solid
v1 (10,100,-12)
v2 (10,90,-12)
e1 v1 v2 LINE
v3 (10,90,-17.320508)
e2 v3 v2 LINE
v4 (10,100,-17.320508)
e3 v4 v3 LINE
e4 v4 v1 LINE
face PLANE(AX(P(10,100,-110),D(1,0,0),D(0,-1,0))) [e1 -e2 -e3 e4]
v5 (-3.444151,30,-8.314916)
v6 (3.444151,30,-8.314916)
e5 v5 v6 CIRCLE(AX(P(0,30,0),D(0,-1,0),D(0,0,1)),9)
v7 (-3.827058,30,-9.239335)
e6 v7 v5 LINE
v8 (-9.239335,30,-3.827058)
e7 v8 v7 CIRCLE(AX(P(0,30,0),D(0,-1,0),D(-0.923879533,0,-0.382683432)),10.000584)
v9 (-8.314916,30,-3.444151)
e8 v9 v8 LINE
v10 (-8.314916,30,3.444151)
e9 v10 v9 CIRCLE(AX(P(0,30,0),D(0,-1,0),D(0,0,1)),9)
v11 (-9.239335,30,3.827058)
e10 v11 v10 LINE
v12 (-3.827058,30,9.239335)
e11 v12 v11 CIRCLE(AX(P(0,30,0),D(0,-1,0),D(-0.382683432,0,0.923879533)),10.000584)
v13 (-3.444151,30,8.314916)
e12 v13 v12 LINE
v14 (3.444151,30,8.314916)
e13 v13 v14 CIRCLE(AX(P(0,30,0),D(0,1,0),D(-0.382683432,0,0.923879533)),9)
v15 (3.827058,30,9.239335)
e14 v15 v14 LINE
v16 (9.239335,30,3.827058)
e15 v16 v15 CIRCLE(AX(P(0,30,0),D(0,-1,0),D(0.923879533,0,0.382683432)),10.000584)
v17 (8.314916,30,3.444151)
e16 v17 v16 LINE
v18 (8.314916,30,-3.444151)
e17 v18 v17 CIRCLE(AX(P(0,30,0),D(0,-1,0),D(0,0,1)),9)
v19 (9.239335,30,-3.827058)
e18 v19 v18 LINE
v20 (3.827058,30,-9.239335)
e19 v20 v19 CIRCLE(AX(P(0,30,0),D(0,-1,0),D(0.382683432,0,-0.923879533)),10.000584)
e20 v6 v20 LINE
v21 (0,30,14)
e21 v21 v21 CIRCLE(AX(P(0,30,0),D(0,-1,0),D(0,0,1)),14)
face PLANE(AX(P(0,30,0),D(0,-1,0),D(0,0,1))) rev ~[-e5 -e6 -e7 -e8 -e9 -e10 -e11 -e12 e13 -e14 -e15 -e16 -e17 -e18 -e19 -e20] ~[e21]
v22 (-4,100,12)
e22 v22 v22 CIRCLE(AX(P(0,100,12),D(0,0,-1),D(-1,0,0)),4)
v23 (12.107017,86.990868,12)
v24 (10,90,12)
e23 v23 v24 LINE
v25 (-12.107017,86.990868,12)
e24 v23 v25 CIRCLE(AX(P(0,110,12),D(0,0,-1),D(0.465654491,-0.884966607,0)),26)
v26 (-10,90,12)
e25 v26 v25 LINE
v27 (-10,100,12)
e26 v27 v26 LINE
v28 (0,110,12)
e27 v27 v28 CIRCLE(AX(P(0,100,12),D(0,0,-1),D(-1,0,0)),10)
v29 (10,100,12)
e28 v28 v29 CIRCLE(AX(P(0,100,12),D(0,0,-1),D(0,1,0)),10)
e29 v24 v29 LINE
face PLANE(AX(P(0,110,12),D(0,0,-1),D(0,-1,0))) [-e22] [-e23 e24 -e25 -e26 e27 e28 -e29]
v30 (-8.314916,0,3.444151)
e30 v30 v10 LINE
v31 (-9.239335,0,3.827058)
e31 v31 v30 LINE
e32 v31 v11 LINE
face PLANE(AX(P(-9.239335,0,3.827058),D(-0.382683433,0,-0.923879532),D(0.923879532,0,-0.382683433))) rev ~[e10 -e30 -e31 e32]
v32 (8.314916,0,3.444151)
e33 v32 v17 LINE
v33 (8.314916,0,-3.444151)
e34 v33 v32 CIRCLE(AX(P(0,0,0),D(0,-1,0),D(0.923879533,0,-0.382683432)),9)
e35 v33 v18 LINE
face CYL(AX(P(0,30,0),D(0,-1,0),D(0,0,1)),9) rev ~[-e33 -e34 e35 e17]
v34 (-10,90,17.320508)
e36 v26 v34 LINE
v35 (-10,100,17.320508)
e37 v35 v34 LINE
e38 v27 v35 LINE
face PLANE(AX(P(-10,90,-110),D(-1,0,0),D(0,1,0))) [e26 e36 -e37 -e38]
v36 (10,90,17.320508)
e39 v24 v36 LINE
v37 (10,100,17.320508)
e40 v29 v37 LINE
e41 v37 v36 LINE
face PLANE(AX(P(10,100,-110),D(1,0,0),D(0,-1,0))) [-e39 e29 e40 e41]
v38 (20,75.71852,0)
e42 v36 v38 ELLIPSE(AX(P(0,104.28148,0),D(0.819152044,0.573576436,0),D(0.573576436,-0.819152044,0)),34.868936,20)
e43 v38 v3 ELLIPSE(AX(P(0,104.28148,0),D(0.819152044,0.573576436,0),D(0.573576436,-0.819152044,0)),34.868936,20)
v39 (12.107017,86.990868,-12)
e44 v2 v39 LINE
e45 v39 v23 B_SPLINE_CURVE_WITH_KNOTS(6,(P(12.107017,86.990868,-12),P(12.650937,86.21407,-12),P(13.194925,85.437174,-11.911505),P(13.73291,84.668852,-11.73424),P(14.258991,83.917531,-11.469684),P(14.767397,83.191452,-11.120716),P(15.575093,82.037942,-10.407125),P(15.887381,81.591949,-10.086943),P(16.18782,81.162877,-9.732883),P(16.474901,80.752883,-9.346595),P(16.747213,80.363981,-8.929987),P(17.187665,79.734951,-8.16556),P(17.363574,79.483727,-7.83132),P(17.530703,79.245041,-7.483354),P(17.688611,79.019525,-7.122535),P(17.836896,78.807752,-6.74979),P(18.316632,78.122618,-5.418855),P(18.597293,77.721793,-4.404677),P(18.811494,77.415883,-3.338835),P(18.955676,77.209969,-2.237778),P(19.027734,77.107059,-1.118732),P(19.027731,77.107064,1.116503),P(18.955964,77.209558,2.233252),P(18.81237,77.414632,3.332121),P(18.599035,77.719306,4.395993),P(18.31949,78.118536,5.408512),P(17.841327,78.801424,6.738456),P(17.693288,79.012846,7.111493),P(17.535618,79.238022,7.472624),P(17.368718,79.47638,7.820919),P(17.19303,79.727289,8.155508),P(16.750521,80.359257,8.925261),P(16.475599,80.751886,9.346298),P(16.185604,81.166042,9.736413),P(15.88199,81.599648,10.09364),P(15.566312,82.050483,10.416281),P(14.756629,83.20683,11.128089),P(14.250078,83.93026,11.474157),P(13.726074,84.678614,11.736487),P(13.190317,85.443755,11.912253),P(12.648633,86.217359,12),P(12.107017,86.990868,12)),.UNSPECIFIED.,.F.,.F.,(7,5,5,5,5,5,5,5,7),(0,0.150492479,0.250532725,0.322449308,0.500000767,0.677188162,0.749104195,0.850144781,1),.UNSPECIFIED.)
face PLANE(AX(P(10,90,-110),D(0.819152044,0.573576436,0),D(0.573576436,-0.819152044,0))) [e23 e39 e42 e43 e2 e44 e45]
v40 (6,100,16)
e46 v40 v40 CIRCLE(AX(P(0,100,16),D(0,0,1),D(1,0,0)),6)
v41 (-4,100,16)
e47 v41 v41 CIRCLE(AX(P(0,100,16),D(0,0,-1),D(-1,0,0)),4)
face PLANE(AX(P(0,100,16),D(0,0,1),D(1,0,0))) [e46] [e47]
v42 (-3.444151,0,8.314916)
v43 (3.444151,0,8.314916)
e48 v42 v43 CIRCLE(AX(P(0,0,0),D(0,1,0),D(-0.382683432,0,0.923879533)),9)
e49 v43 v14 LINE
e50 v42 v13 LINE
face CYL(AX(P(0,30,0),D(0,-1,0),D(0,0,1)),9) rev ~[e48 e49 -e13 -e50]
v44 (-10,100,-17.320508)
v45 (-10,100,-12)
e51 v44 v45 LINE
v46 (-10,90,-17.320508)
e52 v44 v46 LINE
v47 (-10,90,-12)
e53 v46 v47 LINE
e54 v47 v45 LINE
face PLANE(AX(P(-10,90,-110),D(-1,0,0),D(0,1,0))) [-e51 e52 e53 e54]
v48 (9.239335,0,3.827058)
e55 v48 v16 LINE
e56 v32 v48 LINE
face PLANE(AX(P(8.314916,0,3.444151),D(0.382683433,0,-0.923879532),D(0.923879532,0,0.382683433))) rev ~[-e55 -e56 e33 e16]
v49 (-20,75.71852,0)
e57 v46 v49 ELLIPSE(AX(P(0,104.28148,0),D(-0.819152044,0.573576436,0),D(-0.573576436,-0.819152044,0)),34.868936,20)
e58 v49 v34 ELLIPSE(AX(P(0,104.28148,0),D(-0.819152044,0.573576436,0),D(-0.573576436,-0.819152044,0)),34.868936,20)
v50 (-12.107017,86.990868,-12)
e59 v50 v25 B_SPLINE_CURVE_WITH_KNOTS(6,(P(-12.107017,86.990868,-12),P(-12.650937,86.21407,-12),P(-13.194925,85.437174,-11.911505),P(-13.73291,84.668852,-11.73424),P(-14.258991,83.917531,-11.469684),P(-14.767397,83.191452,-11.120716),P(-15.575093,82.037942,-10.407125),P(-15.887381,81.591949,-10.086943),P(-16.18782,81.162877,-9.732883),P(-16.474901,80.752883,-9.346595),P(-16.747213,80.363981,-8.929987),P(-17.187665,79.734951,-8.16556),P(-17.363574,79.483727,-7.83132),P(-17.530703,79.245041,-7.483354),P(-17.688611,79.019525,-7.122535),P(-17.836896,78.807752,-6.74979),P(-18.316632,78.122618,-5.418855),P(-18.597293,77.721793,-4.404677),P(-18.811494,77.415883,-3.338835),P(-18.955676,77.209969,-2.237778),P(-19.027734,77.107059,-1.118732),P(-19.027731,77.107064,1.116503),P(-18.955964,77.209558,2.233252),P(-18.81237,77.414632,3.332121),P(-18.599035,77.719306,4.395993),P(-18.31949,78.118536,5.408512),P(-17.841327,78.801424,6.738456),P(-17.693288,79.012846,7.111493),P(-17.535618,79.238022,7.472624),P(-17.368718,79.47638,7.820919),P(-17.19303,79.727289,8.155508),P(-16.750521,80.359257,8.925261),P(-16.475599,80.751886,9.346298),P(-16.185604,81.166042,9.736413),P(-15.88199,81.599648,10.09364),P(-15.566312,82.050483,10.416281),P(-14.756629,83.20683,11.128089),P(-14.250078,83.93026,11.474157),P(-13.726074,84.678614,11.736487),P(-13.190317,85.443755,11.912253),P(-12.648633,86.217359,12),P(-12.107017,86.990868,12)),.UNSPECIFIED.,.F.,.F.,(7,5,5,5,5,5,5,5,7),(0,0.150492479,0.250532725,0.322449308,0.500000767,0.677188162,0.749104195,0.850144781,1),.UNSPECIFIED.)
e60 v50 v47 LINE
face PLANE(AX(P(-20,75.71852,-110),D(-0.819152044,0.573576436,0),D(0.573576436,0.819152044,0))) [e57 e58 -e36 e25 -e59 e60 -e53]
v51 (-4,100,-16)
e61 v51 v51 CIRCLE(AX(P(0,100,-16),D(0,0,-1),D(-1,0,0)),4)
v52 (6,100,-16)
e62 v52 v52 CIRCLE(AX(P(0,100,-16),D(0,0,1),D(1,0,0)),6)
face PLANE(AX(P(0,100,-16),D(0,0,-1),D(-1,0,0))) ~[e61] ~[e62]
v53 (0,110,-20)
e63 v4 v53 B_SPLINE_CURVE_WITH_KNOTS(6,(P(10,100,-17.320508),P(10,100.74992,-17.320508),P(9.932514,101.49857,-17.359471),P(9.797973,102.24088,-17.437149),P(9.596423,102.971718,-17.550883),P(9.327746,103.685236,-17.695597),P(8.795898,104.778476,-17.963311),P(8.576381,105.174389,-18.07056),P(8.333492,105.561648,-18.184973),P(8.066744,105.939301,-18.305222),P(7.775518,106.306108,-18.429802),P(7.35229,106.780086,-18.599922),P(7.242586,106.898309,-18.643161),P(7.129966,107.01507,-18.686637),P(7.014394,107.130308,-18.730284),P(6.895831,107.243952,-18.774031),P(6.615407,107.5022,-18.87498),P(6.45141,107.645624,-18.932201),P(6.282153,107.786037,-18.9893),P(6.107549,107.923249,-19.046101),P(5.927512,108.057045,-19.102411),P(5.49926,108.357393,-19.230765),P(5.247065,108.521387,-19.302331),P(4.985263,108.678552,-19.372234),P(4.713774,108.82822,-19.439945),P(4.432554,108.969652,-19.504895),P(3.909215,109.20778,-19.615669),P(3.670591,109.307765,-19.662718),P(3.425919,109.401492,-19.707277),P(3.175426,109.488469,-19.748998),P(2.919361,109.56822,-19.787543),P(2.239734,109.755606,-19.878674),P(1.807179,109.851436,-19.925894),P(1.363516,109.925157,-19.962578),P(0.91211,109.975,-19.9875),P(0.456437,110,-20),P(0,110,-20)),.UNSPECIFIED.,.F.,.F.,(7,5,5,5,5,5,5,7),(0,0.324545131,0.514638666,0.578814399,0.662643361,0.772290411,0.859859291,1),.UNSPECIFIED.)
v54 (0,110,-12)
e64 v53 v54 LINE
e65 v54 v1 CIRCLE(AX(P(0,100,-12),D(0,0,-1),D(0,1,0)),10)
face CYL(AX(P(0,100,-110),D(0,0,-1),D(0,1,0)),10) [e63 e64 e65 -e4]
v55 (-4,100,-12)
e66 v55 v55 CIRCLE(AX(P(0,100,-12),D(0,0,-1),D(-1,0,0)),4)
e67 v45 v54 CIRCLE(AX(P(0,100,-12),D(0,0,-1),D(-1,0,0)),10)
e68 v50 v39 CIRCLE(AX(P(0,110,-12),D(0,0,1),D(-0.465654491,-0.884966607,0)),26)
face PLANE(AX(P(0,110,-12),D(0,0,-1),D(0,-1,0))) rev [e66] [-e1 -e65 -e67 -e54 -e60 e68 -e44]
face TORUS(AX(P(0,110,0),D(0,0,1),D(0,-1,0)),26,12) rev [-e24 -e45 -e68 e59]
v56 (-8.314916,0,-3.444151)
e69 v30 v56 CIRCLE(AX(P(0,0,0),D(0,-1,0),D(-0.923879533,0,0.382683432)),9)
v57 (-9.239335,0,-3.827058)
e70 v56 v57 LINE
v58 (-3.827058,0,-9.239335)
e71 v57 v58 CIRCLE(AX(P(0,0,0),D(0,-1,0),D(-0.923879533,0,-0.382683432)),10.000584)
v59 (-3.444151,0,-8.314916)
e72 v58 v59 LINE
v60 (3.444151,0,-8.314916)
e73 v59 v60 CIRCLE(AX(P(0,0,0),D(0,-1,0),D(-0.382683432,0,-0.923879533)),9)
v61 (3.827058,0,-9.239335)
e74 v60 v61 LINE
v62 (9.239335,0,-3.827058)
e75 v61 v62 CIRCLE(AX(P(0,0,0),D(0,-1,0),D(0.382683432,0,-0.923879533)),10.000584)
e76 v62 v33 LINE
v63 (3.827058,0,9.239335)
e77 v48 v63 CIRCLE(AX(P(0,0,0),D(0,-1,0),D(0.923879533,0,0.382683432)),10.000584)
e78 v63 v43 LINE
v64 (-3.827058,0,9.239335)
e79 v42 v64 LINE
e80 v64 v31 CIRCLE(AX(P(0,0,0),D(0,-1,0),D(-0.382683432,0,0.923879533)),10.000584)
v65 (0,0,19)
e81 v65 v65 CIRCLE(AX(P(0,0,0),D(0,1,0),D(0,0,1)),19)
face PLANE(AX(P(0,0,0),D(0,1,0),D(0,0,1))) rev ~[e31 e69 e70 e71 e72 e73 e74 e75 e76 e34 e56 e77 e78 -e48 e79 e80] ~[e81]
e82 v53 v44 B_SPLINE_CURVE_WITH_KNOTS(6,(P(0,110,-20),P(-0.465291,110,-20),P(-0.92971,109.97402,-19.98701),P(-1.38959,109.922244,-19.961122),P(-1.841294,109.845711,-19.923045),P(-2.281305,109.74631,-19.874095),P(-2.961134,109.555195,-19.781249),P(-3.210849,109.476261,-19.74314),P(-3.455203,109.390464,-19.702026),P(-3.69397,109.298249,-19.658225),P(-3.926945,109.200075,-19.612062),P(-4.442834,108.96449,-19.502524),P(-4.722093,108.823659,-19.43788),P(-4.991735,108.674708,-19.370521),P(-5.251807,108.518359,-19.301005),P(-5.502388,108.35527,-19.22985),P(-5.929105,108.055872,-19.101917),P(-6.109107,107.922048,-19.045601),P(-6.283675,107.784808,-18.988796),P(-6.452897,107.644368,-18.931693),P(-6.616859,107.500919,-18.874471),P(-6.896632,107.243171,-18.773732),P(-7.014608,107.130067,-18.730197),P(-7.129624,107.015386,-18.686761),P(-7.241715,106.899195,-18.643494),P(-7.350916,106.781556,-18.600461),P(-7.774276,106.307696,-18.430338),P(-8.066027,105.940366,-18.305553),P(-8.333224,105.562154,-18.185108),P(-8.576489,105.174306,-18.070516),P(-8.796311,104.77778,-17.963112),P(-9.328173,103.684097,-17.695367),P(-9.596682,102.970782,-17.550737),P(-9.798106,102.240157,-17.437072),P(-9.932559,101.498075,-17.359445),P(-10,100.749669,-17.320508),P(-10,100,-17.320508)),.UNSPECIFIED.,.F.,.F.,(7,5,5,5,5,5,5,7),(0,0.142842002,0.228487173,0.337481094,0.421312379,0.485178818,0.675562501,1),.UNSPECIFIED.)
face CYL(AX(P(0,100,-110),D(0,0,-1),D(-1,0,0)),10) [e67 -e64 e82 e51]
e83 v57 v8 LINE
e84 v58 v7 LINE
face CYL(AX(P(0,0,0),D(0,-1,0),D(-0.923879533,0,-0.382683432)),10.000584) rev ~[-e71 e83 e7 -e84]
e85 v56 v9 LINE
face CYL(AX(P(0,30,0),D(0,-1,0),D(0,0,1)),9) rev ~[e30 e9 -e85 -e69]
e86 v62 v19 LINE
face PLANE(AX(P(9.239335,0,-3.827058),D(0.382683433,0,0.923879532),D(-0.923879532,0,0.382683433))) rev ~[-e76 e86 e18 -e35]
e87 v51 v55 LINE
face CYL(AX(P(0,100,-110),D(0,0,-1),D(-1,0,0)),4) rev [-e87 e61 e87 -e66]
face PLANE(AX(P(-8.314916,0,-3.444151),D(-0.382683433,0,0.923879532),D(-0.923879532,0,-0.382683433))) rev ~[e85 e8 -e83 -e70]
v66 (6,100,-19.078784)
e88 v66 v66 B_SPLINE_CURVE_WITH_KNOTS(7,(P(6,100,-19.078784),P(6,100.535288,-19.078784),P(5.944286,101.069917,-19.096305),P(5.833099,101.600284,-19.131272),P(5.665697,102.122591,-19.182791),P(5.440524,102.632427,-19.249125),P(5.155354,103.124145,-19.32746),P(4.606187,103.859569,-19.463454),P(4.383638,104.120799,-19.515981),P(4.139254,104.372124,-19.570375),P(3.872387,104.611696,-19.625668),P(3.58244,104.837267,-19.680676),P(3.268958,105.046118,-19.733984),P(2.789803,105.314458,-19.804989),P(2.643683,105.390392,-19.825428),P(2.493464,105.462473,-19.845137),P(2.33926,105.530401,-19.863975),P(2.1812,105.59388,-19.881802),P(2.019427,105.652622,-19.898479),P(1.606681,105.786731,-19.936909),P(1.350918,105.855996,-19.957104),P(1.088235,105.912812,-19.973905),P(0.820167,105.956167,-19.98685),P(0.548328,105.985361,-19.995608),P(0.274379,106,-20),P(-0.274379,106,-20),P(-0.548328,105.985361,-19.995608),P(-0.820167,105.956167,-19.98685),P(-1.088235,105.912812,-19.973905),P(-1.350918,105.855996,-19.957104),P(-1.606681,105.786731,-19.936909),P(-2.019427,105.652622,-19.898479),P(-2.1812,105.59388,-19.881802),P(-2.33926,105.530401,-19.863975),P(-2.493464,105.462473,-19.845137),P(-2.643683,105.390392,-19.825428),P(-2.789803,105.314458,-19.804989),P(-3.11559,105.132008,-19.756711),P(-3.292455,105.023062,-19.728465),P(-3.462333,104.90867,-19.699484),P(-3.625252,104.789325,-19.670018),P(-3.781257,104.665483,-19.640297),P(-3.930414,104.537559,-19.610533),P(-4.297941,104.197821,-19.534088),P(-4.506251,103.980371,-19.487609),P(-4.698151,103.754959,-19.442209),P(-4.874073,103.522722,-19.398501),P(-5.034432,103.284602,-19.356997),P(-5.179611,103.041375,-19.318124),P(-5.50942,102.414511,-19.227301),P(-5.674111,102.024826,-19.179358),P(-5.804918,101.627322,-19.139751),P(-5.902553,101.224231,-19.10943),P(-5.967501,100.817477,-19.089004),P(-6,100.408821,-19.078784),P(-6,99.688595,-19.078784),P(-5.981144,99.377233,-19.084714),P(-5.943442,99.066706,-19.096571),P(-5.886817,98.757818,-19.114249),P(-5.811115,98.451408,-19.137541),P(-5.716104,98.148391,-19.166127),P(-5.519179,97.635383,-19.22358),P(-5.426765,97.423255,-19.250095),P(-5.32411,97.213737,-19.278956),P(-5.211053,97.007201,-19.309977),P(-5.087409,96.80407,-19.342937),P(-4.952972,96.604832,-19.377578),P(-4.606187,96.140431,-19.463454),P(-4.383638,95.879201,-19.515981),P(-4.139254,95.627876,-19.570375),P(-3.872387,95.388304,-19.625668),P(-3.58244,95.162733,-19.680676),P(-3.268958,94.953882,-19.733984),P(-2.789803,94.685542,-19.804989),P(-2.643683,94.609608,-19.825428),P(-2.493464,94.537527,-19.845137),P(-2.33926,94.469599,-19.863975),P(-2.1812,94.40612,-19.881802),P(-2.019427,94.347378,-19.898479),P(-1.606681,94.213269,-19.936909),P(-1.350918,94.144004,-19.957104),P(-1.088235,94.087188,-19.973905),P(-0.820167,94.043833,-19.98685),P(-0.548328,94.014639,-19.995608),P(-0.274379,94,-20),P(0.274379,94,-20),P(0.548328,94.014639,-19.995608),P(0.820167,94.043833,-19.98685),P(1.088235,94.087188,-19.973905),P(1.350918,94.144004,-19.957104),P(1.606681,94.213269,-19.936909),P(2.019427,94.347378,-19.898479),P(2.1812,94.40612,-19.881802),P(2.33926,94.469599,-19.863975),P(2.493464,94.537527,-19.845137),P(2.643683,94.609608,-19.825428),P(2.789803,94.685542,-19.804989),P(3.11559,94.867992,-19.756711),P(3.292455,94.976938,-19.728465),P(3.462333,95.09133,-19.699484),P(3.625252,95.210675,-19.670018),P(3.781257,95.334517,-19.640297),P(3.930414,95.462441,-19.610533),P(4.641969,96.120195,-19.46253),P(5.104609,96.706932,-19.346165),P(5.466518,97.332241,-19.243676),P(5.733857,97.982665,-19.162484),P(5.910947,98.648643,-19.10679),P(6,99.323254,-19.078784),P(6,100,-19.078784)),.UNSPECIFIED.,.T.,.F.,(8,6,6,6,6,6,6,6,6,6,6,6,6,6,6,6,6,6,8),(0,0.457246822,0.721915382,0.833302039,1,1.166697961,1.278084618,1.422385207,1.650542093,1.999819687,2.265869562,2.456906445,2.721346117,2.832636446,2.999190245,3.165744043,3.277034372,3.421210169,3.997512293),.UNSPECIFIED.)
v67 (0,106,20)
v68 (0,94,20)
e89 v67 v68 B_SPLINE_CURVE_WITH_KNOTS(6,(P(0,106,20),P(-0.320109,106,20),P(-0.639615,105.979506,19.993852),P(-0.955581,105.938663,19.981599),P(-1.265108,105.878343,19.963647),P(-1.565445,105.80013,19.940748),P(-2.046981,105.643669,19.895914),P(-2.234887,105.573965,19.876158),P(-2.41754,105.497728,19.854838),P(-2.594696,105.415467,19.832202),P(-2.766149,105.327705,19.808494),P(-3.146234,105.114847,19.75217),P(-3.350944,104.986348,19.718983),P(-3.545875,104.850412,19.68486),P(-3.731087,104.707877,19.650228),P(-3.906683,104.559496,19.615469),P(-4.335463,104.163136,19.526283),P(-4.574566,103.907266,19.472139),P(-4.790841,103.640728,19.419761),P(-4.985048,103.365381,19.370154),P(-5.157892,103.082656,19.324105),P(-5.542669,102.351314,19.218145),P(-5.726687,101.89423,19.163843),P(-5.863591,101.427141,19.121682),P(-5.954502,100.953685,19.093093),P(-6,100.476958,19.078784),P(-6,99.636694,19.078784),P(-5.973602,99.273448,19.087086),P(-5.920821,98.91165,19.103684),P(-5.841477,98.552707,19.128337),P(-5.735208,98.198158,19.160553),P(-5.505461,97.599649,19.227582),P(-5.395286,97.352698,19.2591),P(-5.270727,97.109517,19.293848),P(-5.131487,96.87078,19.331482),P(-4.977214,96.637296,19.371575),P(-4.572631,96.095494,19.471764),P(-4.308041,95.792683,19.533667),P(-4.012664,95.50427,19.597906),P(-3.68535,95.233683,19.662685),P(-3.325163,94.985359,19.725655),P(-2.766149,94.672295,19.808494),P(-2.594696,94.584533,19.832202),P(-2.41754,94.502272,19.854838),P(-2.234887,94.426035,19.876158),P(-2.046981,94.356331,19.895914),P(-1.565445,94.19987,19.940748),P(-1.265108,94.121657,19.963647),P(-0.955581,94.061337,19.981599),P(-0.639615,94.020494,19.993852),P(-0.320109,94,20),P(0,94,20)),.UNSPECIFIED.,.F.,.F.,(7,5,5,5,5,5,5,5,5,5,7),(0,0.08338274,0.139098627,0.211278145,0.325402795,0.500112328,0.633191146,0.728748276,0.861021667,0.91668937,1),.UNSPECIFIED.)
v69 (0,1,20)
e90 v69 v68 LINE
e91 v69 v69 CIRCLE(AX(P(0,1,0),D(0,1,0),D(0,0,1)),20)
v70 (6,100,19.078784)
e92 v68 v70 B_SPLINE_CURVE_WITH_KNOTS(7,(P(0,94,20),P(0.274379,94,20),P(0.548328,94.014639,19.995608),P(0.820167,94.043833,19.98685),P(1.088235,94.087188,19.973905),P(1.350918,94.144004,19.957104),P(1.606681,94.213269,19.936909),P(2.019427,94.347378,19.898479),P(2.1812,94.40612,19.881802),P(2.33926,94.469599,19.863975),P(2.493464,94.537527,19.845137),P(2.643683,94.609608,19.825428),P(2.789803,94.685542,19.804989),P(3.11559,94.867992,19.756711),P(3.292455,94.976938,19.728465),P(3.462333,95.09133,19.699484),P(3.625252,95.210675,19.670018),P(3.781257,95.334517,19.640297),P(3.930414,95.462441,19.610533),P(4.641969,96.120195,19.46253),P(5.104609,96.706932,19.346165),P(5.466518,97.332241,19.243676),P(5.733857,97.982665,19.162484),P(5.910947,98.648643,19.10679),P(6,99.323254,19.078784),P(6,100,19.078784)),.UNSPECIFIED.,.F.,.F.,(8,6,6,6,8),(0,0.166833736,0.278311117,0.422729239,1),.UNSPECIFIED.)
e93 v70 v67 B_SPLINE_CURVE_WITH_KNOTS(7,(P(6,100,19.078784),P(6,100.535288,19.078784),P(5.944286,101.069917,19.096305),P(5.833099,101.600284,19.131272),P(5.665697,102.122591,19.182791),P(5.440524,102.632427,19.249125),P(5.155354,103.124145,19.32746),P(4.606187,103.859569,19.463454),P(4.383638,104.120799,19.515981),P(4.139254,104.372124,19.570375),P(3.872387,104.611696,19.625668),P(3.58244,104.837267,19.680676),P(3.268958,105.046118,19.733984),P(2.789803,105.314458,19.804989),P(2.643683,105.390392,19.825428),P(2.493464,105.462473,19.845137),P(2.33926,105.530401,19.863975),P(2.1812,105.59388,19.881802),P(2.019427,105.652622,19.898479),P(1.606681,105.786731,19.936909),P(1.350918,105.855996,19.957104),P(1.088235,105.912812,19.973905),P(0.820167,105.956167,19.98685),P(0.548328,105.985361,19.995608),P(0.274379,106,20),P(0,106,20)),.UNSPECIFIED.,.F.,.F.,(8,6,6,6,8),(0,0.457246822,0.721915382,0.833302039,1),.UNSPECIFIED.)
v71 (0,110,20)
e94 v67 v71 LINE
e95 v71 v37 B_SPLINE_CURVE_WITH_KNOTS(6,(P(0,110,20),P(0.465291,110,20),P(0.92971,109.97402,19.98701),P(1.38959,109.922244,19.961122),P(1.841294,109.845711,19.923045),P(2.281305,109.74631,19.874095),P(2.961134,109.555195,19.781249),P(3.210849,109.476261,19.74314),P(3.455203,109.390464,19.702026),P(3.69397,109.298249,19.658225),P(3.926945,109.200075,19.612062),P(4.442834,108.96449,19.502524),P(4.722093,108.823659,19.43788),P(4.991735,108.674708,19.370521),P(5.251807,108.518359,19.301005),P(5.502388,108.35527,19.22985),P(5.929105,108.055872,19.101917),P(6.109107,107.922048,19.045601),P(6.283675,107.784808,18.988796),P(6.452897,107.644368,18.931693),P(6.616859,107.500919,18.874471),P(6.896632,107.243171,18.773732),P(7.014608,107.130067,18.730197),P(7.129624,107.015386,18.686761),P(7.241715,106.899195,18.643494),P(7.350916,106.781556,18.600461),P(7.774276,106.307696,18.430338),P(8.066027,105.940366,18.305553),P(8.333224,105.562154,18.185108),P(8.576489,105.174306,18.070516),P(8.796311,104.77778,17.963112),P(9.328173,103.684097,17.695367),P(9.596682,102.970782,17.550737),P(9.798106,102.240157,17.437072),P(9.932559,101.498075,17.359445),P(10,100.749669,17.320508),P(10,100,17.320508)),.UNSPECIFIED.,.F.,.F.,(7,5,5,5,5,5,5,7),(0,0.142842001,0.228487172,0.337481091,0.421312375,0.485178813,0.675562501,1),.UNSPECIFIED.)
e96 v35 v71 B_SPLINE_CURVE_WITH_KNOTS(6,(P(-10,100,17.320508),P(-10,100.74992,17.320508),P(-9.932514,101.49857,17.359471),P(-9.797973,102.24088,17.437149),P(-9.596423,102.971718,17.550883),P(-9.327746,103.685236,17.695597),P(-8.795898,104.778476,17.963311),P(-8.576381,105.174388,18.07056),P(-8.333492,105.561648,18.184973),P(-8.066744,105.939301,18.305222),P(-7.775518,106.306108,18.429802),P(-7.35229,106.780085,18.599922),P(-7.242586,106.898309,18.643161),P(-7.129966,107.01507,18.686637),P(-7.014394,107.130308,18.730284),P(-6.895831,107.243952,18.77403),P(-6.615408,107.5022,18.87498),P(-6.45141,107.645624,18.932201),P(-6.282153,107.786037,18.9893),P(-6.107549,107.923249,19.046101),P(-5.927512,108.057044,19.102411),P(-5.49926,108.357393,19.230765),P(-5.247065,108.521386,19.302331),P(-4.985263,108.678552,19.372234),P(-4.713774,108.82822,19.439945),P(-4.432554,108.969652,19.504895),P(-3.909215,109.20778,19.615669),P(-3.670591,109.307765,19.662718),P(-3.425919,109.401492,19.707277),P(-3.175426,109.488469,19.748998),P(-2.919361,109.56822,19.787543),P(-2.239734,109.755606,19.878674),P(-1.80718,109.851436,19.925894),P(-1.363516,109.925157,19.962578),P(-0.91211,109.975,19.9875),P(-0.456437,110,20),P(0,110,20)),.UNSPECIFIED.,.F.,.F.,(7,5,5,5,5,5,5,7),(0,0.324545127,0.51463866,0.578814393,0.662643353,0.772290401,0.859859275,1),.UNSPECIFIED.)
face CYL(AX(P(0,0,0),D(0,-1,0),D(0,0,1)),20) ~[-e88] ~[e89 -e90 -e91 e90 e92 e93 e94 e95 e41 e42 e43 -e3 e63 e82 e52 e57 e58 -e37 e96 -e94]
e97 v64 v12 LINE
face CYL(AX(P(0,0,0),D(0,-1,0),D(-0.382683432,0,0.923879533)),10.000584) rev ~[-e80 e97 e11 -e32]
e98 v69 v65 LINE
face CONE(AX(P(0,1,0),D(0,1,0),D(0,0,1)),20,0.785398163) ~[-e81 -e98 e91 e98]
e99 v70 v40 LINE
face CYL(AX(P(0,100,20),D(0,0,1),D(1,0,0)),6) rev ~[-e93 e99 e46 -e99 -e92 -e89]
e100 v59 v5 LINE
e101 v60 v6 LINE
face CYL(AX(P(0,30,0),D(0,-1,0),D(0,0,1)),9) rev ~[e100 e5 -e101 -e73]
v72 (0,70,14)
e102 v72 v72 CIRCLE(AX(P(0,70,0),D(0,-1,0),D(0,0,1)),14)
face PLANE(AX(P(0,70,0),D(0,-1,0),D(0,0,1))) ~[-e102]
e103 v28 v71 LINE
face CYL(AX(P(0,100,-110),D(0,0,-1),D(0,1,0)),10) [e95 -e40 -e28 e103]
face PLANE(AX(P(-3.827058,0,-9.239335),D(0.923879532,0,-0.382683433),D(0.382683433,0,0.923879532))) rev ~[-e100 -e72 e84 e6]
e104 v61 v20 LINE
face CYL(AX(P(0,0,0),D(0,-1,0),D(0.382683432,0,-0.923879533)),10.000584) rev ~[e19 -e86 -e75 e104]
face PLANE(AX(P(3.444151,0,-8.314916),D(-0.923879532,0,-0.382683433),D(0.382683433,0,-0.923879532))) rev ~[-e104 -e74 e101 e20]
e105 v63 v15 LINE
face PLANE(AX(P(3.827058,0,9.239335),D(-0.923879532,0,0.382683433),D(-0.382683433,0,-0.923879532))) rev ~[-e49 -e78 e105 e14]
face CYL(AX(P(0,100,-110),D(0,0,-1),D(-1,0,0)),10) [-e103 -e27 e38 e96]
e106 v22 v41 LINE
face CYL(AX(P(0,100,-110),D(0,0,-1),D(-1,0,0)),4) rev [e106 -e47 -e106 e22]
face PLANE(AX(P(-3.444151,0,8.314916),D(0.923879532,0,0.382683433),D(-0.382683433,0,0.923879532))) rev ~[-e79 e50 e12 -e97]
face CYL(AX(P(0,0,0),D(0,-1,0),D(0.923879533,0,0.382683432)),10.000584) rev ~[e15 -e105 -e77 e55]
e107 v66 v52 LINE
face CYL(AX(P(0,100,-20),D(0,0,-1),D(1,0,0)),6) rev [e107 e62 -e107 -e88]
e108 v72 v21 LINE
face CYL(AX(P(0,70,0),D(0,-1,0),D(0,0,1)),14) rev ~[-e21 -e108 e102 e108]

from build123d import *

# Parameters (mm, degrees)
CROQUIS1_R                 = 20
SALIENTE_EXTRUIR1_DEPTH    = 110
CORTAR_EXTRUIR1_DEPTH      = 110
CORTAR_EXTRUIR1_DEPTH_BACK = 110
CORTAR_EXTRUIR2_DEPTH      = 110
CORTAR_EXTRUIR2_DEPTH_BACK = 110
CROQUIS4_R                 = 4
CROQUIS5_R                 = 6
CORTAR_EXTRUIR4_DEPTH      = 4
CORTAR_EXTRUIR5_DEPTH      = 44
CHAFL_N1_SIZE              = 1


with BuildPart() as part:
    # Croquis1 → Saliente-Extruir1 (new body)
    with BuildSketch(Plane(origin=(0, 0, 0), x_dir=(1, 0, 0), z_dir=(0, 1, 0))):
        Circle(CROQUIS1_R)
    extrude(amount=SALIENTE_EXTRUIR1_DEPTH)

    # Croquis2 → Cortar-Extruir1 (cut, two sides: drawn at the far end of the back side and taken through both)
    with BuildSketch(Plane.XY.offset(-CORTAR_EXTRUIR1_DEPTH_BACK)):
        with BuildLine():
            Line((20, 110), (0, 110))
            ThreePointArc((0, 110), (7.071067812, 107.071067812), (10, 100))
            Line((10, 100), (10, 90))
            Line((10, 90), (20, 75.718519933))
            Line((20, 75.718519933), (20, 110))
        make_face()
        with BuildLine():
            Line((-10, 90), (-10, 100))
            ThreePointArc((-10, 100), (-7.071067812, 107.071067812), (0, 110))
            Line((0, 110), (-20, 110))
            Line((-20, 110), (-20, 75.718519933))
            Line((-20, 75.718519933), (-10, 90))
        make_face()
    extrude(amount=CORTAR_EXTRUIR1_DEPTH + CORTAR_EXTRUIR1_DEPTH_BACK, mode=Mode.SUBTRACT)

    # Croquis4 → Cortar-Extruir2 (cut, two sides: drawn at the far end of the back side and taken through both)
    with BuildSketch(Plane.XY.offset(-CORTAR_EXTRUIR2_DEPTH_BACK)):
        with Locations((0, 100)):
            Circle(CROQUIS4_R)
    extrude(amount=CORTAR_EXTRUIR2_DEPTH + CORTAR_EXTRUIR2_DEPTH_BACK, mode=Mode.SUBTRACT)

    # Croquis3 → Cortar-Revolución1 (revolve, cut)
    with BuildSketch(Plane(origin=(0, 0, 0), x_dir=(0, 0, -1), z_dir=(1, 0, 0))):
        with BuildLine():
            Line((-12, 110), (12, 110))
            Line((12, 110), (12, 84))
            ThreePointArc((12, 84), (0, 72), (-12, 84))
            Line((-12, 84), (-12, 110))
        make_face()
    revolve(axis=Axis((0, 110, 12), (0, 0, -1)), mode=Mode.SUBTRACT)

    # Croquis5 → Cortar-Extruir4 (cut)
    with BuildSketch(Plane.XY.offset(20)):
        with Locations((0, 100)):
            Circle(CROQUIS5_R)
    cortar_extruir4 = extrude(amount=-CORTAR_EXTRUIR4_DEPTH, mode=Mode.SUBTRACT)

    # Simetría1: Cortar-Extruir4 across plane
    add(cortar_extruir4.mirror(Plane.XY), mode=Mode.SUBTRACT)

    # Croquis6 → Cortar-Revolución2 (revolve, cut)
    with BuildSketch(Plane.XY):
        Polygon((-9, 0), (0, 0), (0, 70), (-14, 70), (-14, 30), (-9, 30), align=None)
    revolve(axis=Axis((0, 70, 0), (0, -1, 0)), mode=Mode.SUBTRACT)

    # Croquis7 → Cortar-Extruir5 (cut)
    with BuildSketch(Plane.XZ):
        with BuildLine():
            Line((-9.239334584, 3.827057692), (-8.314915793, 3.444150891))
            ThreePointArc((-8.314915793, 3.444150891), (-9, 0), (-8.314915793, -3.444150891))
            Line((-8.314915793, -3.444150891), (-9.239334584, -3.827057692))
            ThreePointArc((-9.239334584, -3.827057692), (-7.071480543, -7.071480543), (-3.827057692, -9.239334584))
            Line((-3.827057692, -9.239334584), (-3.444150891, -8.314915793))
            ThreePointArc((-3.444150891, -8.314915793), (0, -9), (3.444150891, -8.314915793))
            Line((3.444150891, -8.314915793), (3.827057692, -9.239334584))
            ThreePointArc((3.827057692, -9.239334584), (7.071480543, -7.071480543), (9.239334584, -3.827057692))
            Line((9.239334584, -3.827057692), (8.314915793, -3.444150891))
            ThreePointArc((8.314915793, -3.444150891), (9, 0), (8.314915793, 3.444150891))
            Line((8.314915793, 3.444150891), (9.239334584, 3.827057692))
            ThreePointArc((9.239334584, 3.827057692), (7.071480543, 7.071480543), (3.827057692, 9.239334584))
            Line((3.827057692, 9.239334584), (3.444150891, 8.314915793))
            ThreePointArc((3.444150891, 8.314915793), (0, 9), (-3.444150891, 8.314915793))
            Line((-3.444150891, 8.314915793), (-3.827057692, 9.239334584))
            ThreePointArc((-3.827057692, 9.239334584), (-7.071480543, 7.071480543), (-9.239334584, 3.827057692))
        make_face()
    extrude(amount=-CORTAR_EXTRUIR5_DEPTH, mode=Mode.SUBTRACT)

    # Chaflán1
    chafl_n1_edges = [part.edges().sort_by_distance(p)[0] for p in [
        (-20, 0, 0),
    ]]
    chamfer(chafl_n1_edges, length=CHAFL_N1_SIZE)


solid = part.part
